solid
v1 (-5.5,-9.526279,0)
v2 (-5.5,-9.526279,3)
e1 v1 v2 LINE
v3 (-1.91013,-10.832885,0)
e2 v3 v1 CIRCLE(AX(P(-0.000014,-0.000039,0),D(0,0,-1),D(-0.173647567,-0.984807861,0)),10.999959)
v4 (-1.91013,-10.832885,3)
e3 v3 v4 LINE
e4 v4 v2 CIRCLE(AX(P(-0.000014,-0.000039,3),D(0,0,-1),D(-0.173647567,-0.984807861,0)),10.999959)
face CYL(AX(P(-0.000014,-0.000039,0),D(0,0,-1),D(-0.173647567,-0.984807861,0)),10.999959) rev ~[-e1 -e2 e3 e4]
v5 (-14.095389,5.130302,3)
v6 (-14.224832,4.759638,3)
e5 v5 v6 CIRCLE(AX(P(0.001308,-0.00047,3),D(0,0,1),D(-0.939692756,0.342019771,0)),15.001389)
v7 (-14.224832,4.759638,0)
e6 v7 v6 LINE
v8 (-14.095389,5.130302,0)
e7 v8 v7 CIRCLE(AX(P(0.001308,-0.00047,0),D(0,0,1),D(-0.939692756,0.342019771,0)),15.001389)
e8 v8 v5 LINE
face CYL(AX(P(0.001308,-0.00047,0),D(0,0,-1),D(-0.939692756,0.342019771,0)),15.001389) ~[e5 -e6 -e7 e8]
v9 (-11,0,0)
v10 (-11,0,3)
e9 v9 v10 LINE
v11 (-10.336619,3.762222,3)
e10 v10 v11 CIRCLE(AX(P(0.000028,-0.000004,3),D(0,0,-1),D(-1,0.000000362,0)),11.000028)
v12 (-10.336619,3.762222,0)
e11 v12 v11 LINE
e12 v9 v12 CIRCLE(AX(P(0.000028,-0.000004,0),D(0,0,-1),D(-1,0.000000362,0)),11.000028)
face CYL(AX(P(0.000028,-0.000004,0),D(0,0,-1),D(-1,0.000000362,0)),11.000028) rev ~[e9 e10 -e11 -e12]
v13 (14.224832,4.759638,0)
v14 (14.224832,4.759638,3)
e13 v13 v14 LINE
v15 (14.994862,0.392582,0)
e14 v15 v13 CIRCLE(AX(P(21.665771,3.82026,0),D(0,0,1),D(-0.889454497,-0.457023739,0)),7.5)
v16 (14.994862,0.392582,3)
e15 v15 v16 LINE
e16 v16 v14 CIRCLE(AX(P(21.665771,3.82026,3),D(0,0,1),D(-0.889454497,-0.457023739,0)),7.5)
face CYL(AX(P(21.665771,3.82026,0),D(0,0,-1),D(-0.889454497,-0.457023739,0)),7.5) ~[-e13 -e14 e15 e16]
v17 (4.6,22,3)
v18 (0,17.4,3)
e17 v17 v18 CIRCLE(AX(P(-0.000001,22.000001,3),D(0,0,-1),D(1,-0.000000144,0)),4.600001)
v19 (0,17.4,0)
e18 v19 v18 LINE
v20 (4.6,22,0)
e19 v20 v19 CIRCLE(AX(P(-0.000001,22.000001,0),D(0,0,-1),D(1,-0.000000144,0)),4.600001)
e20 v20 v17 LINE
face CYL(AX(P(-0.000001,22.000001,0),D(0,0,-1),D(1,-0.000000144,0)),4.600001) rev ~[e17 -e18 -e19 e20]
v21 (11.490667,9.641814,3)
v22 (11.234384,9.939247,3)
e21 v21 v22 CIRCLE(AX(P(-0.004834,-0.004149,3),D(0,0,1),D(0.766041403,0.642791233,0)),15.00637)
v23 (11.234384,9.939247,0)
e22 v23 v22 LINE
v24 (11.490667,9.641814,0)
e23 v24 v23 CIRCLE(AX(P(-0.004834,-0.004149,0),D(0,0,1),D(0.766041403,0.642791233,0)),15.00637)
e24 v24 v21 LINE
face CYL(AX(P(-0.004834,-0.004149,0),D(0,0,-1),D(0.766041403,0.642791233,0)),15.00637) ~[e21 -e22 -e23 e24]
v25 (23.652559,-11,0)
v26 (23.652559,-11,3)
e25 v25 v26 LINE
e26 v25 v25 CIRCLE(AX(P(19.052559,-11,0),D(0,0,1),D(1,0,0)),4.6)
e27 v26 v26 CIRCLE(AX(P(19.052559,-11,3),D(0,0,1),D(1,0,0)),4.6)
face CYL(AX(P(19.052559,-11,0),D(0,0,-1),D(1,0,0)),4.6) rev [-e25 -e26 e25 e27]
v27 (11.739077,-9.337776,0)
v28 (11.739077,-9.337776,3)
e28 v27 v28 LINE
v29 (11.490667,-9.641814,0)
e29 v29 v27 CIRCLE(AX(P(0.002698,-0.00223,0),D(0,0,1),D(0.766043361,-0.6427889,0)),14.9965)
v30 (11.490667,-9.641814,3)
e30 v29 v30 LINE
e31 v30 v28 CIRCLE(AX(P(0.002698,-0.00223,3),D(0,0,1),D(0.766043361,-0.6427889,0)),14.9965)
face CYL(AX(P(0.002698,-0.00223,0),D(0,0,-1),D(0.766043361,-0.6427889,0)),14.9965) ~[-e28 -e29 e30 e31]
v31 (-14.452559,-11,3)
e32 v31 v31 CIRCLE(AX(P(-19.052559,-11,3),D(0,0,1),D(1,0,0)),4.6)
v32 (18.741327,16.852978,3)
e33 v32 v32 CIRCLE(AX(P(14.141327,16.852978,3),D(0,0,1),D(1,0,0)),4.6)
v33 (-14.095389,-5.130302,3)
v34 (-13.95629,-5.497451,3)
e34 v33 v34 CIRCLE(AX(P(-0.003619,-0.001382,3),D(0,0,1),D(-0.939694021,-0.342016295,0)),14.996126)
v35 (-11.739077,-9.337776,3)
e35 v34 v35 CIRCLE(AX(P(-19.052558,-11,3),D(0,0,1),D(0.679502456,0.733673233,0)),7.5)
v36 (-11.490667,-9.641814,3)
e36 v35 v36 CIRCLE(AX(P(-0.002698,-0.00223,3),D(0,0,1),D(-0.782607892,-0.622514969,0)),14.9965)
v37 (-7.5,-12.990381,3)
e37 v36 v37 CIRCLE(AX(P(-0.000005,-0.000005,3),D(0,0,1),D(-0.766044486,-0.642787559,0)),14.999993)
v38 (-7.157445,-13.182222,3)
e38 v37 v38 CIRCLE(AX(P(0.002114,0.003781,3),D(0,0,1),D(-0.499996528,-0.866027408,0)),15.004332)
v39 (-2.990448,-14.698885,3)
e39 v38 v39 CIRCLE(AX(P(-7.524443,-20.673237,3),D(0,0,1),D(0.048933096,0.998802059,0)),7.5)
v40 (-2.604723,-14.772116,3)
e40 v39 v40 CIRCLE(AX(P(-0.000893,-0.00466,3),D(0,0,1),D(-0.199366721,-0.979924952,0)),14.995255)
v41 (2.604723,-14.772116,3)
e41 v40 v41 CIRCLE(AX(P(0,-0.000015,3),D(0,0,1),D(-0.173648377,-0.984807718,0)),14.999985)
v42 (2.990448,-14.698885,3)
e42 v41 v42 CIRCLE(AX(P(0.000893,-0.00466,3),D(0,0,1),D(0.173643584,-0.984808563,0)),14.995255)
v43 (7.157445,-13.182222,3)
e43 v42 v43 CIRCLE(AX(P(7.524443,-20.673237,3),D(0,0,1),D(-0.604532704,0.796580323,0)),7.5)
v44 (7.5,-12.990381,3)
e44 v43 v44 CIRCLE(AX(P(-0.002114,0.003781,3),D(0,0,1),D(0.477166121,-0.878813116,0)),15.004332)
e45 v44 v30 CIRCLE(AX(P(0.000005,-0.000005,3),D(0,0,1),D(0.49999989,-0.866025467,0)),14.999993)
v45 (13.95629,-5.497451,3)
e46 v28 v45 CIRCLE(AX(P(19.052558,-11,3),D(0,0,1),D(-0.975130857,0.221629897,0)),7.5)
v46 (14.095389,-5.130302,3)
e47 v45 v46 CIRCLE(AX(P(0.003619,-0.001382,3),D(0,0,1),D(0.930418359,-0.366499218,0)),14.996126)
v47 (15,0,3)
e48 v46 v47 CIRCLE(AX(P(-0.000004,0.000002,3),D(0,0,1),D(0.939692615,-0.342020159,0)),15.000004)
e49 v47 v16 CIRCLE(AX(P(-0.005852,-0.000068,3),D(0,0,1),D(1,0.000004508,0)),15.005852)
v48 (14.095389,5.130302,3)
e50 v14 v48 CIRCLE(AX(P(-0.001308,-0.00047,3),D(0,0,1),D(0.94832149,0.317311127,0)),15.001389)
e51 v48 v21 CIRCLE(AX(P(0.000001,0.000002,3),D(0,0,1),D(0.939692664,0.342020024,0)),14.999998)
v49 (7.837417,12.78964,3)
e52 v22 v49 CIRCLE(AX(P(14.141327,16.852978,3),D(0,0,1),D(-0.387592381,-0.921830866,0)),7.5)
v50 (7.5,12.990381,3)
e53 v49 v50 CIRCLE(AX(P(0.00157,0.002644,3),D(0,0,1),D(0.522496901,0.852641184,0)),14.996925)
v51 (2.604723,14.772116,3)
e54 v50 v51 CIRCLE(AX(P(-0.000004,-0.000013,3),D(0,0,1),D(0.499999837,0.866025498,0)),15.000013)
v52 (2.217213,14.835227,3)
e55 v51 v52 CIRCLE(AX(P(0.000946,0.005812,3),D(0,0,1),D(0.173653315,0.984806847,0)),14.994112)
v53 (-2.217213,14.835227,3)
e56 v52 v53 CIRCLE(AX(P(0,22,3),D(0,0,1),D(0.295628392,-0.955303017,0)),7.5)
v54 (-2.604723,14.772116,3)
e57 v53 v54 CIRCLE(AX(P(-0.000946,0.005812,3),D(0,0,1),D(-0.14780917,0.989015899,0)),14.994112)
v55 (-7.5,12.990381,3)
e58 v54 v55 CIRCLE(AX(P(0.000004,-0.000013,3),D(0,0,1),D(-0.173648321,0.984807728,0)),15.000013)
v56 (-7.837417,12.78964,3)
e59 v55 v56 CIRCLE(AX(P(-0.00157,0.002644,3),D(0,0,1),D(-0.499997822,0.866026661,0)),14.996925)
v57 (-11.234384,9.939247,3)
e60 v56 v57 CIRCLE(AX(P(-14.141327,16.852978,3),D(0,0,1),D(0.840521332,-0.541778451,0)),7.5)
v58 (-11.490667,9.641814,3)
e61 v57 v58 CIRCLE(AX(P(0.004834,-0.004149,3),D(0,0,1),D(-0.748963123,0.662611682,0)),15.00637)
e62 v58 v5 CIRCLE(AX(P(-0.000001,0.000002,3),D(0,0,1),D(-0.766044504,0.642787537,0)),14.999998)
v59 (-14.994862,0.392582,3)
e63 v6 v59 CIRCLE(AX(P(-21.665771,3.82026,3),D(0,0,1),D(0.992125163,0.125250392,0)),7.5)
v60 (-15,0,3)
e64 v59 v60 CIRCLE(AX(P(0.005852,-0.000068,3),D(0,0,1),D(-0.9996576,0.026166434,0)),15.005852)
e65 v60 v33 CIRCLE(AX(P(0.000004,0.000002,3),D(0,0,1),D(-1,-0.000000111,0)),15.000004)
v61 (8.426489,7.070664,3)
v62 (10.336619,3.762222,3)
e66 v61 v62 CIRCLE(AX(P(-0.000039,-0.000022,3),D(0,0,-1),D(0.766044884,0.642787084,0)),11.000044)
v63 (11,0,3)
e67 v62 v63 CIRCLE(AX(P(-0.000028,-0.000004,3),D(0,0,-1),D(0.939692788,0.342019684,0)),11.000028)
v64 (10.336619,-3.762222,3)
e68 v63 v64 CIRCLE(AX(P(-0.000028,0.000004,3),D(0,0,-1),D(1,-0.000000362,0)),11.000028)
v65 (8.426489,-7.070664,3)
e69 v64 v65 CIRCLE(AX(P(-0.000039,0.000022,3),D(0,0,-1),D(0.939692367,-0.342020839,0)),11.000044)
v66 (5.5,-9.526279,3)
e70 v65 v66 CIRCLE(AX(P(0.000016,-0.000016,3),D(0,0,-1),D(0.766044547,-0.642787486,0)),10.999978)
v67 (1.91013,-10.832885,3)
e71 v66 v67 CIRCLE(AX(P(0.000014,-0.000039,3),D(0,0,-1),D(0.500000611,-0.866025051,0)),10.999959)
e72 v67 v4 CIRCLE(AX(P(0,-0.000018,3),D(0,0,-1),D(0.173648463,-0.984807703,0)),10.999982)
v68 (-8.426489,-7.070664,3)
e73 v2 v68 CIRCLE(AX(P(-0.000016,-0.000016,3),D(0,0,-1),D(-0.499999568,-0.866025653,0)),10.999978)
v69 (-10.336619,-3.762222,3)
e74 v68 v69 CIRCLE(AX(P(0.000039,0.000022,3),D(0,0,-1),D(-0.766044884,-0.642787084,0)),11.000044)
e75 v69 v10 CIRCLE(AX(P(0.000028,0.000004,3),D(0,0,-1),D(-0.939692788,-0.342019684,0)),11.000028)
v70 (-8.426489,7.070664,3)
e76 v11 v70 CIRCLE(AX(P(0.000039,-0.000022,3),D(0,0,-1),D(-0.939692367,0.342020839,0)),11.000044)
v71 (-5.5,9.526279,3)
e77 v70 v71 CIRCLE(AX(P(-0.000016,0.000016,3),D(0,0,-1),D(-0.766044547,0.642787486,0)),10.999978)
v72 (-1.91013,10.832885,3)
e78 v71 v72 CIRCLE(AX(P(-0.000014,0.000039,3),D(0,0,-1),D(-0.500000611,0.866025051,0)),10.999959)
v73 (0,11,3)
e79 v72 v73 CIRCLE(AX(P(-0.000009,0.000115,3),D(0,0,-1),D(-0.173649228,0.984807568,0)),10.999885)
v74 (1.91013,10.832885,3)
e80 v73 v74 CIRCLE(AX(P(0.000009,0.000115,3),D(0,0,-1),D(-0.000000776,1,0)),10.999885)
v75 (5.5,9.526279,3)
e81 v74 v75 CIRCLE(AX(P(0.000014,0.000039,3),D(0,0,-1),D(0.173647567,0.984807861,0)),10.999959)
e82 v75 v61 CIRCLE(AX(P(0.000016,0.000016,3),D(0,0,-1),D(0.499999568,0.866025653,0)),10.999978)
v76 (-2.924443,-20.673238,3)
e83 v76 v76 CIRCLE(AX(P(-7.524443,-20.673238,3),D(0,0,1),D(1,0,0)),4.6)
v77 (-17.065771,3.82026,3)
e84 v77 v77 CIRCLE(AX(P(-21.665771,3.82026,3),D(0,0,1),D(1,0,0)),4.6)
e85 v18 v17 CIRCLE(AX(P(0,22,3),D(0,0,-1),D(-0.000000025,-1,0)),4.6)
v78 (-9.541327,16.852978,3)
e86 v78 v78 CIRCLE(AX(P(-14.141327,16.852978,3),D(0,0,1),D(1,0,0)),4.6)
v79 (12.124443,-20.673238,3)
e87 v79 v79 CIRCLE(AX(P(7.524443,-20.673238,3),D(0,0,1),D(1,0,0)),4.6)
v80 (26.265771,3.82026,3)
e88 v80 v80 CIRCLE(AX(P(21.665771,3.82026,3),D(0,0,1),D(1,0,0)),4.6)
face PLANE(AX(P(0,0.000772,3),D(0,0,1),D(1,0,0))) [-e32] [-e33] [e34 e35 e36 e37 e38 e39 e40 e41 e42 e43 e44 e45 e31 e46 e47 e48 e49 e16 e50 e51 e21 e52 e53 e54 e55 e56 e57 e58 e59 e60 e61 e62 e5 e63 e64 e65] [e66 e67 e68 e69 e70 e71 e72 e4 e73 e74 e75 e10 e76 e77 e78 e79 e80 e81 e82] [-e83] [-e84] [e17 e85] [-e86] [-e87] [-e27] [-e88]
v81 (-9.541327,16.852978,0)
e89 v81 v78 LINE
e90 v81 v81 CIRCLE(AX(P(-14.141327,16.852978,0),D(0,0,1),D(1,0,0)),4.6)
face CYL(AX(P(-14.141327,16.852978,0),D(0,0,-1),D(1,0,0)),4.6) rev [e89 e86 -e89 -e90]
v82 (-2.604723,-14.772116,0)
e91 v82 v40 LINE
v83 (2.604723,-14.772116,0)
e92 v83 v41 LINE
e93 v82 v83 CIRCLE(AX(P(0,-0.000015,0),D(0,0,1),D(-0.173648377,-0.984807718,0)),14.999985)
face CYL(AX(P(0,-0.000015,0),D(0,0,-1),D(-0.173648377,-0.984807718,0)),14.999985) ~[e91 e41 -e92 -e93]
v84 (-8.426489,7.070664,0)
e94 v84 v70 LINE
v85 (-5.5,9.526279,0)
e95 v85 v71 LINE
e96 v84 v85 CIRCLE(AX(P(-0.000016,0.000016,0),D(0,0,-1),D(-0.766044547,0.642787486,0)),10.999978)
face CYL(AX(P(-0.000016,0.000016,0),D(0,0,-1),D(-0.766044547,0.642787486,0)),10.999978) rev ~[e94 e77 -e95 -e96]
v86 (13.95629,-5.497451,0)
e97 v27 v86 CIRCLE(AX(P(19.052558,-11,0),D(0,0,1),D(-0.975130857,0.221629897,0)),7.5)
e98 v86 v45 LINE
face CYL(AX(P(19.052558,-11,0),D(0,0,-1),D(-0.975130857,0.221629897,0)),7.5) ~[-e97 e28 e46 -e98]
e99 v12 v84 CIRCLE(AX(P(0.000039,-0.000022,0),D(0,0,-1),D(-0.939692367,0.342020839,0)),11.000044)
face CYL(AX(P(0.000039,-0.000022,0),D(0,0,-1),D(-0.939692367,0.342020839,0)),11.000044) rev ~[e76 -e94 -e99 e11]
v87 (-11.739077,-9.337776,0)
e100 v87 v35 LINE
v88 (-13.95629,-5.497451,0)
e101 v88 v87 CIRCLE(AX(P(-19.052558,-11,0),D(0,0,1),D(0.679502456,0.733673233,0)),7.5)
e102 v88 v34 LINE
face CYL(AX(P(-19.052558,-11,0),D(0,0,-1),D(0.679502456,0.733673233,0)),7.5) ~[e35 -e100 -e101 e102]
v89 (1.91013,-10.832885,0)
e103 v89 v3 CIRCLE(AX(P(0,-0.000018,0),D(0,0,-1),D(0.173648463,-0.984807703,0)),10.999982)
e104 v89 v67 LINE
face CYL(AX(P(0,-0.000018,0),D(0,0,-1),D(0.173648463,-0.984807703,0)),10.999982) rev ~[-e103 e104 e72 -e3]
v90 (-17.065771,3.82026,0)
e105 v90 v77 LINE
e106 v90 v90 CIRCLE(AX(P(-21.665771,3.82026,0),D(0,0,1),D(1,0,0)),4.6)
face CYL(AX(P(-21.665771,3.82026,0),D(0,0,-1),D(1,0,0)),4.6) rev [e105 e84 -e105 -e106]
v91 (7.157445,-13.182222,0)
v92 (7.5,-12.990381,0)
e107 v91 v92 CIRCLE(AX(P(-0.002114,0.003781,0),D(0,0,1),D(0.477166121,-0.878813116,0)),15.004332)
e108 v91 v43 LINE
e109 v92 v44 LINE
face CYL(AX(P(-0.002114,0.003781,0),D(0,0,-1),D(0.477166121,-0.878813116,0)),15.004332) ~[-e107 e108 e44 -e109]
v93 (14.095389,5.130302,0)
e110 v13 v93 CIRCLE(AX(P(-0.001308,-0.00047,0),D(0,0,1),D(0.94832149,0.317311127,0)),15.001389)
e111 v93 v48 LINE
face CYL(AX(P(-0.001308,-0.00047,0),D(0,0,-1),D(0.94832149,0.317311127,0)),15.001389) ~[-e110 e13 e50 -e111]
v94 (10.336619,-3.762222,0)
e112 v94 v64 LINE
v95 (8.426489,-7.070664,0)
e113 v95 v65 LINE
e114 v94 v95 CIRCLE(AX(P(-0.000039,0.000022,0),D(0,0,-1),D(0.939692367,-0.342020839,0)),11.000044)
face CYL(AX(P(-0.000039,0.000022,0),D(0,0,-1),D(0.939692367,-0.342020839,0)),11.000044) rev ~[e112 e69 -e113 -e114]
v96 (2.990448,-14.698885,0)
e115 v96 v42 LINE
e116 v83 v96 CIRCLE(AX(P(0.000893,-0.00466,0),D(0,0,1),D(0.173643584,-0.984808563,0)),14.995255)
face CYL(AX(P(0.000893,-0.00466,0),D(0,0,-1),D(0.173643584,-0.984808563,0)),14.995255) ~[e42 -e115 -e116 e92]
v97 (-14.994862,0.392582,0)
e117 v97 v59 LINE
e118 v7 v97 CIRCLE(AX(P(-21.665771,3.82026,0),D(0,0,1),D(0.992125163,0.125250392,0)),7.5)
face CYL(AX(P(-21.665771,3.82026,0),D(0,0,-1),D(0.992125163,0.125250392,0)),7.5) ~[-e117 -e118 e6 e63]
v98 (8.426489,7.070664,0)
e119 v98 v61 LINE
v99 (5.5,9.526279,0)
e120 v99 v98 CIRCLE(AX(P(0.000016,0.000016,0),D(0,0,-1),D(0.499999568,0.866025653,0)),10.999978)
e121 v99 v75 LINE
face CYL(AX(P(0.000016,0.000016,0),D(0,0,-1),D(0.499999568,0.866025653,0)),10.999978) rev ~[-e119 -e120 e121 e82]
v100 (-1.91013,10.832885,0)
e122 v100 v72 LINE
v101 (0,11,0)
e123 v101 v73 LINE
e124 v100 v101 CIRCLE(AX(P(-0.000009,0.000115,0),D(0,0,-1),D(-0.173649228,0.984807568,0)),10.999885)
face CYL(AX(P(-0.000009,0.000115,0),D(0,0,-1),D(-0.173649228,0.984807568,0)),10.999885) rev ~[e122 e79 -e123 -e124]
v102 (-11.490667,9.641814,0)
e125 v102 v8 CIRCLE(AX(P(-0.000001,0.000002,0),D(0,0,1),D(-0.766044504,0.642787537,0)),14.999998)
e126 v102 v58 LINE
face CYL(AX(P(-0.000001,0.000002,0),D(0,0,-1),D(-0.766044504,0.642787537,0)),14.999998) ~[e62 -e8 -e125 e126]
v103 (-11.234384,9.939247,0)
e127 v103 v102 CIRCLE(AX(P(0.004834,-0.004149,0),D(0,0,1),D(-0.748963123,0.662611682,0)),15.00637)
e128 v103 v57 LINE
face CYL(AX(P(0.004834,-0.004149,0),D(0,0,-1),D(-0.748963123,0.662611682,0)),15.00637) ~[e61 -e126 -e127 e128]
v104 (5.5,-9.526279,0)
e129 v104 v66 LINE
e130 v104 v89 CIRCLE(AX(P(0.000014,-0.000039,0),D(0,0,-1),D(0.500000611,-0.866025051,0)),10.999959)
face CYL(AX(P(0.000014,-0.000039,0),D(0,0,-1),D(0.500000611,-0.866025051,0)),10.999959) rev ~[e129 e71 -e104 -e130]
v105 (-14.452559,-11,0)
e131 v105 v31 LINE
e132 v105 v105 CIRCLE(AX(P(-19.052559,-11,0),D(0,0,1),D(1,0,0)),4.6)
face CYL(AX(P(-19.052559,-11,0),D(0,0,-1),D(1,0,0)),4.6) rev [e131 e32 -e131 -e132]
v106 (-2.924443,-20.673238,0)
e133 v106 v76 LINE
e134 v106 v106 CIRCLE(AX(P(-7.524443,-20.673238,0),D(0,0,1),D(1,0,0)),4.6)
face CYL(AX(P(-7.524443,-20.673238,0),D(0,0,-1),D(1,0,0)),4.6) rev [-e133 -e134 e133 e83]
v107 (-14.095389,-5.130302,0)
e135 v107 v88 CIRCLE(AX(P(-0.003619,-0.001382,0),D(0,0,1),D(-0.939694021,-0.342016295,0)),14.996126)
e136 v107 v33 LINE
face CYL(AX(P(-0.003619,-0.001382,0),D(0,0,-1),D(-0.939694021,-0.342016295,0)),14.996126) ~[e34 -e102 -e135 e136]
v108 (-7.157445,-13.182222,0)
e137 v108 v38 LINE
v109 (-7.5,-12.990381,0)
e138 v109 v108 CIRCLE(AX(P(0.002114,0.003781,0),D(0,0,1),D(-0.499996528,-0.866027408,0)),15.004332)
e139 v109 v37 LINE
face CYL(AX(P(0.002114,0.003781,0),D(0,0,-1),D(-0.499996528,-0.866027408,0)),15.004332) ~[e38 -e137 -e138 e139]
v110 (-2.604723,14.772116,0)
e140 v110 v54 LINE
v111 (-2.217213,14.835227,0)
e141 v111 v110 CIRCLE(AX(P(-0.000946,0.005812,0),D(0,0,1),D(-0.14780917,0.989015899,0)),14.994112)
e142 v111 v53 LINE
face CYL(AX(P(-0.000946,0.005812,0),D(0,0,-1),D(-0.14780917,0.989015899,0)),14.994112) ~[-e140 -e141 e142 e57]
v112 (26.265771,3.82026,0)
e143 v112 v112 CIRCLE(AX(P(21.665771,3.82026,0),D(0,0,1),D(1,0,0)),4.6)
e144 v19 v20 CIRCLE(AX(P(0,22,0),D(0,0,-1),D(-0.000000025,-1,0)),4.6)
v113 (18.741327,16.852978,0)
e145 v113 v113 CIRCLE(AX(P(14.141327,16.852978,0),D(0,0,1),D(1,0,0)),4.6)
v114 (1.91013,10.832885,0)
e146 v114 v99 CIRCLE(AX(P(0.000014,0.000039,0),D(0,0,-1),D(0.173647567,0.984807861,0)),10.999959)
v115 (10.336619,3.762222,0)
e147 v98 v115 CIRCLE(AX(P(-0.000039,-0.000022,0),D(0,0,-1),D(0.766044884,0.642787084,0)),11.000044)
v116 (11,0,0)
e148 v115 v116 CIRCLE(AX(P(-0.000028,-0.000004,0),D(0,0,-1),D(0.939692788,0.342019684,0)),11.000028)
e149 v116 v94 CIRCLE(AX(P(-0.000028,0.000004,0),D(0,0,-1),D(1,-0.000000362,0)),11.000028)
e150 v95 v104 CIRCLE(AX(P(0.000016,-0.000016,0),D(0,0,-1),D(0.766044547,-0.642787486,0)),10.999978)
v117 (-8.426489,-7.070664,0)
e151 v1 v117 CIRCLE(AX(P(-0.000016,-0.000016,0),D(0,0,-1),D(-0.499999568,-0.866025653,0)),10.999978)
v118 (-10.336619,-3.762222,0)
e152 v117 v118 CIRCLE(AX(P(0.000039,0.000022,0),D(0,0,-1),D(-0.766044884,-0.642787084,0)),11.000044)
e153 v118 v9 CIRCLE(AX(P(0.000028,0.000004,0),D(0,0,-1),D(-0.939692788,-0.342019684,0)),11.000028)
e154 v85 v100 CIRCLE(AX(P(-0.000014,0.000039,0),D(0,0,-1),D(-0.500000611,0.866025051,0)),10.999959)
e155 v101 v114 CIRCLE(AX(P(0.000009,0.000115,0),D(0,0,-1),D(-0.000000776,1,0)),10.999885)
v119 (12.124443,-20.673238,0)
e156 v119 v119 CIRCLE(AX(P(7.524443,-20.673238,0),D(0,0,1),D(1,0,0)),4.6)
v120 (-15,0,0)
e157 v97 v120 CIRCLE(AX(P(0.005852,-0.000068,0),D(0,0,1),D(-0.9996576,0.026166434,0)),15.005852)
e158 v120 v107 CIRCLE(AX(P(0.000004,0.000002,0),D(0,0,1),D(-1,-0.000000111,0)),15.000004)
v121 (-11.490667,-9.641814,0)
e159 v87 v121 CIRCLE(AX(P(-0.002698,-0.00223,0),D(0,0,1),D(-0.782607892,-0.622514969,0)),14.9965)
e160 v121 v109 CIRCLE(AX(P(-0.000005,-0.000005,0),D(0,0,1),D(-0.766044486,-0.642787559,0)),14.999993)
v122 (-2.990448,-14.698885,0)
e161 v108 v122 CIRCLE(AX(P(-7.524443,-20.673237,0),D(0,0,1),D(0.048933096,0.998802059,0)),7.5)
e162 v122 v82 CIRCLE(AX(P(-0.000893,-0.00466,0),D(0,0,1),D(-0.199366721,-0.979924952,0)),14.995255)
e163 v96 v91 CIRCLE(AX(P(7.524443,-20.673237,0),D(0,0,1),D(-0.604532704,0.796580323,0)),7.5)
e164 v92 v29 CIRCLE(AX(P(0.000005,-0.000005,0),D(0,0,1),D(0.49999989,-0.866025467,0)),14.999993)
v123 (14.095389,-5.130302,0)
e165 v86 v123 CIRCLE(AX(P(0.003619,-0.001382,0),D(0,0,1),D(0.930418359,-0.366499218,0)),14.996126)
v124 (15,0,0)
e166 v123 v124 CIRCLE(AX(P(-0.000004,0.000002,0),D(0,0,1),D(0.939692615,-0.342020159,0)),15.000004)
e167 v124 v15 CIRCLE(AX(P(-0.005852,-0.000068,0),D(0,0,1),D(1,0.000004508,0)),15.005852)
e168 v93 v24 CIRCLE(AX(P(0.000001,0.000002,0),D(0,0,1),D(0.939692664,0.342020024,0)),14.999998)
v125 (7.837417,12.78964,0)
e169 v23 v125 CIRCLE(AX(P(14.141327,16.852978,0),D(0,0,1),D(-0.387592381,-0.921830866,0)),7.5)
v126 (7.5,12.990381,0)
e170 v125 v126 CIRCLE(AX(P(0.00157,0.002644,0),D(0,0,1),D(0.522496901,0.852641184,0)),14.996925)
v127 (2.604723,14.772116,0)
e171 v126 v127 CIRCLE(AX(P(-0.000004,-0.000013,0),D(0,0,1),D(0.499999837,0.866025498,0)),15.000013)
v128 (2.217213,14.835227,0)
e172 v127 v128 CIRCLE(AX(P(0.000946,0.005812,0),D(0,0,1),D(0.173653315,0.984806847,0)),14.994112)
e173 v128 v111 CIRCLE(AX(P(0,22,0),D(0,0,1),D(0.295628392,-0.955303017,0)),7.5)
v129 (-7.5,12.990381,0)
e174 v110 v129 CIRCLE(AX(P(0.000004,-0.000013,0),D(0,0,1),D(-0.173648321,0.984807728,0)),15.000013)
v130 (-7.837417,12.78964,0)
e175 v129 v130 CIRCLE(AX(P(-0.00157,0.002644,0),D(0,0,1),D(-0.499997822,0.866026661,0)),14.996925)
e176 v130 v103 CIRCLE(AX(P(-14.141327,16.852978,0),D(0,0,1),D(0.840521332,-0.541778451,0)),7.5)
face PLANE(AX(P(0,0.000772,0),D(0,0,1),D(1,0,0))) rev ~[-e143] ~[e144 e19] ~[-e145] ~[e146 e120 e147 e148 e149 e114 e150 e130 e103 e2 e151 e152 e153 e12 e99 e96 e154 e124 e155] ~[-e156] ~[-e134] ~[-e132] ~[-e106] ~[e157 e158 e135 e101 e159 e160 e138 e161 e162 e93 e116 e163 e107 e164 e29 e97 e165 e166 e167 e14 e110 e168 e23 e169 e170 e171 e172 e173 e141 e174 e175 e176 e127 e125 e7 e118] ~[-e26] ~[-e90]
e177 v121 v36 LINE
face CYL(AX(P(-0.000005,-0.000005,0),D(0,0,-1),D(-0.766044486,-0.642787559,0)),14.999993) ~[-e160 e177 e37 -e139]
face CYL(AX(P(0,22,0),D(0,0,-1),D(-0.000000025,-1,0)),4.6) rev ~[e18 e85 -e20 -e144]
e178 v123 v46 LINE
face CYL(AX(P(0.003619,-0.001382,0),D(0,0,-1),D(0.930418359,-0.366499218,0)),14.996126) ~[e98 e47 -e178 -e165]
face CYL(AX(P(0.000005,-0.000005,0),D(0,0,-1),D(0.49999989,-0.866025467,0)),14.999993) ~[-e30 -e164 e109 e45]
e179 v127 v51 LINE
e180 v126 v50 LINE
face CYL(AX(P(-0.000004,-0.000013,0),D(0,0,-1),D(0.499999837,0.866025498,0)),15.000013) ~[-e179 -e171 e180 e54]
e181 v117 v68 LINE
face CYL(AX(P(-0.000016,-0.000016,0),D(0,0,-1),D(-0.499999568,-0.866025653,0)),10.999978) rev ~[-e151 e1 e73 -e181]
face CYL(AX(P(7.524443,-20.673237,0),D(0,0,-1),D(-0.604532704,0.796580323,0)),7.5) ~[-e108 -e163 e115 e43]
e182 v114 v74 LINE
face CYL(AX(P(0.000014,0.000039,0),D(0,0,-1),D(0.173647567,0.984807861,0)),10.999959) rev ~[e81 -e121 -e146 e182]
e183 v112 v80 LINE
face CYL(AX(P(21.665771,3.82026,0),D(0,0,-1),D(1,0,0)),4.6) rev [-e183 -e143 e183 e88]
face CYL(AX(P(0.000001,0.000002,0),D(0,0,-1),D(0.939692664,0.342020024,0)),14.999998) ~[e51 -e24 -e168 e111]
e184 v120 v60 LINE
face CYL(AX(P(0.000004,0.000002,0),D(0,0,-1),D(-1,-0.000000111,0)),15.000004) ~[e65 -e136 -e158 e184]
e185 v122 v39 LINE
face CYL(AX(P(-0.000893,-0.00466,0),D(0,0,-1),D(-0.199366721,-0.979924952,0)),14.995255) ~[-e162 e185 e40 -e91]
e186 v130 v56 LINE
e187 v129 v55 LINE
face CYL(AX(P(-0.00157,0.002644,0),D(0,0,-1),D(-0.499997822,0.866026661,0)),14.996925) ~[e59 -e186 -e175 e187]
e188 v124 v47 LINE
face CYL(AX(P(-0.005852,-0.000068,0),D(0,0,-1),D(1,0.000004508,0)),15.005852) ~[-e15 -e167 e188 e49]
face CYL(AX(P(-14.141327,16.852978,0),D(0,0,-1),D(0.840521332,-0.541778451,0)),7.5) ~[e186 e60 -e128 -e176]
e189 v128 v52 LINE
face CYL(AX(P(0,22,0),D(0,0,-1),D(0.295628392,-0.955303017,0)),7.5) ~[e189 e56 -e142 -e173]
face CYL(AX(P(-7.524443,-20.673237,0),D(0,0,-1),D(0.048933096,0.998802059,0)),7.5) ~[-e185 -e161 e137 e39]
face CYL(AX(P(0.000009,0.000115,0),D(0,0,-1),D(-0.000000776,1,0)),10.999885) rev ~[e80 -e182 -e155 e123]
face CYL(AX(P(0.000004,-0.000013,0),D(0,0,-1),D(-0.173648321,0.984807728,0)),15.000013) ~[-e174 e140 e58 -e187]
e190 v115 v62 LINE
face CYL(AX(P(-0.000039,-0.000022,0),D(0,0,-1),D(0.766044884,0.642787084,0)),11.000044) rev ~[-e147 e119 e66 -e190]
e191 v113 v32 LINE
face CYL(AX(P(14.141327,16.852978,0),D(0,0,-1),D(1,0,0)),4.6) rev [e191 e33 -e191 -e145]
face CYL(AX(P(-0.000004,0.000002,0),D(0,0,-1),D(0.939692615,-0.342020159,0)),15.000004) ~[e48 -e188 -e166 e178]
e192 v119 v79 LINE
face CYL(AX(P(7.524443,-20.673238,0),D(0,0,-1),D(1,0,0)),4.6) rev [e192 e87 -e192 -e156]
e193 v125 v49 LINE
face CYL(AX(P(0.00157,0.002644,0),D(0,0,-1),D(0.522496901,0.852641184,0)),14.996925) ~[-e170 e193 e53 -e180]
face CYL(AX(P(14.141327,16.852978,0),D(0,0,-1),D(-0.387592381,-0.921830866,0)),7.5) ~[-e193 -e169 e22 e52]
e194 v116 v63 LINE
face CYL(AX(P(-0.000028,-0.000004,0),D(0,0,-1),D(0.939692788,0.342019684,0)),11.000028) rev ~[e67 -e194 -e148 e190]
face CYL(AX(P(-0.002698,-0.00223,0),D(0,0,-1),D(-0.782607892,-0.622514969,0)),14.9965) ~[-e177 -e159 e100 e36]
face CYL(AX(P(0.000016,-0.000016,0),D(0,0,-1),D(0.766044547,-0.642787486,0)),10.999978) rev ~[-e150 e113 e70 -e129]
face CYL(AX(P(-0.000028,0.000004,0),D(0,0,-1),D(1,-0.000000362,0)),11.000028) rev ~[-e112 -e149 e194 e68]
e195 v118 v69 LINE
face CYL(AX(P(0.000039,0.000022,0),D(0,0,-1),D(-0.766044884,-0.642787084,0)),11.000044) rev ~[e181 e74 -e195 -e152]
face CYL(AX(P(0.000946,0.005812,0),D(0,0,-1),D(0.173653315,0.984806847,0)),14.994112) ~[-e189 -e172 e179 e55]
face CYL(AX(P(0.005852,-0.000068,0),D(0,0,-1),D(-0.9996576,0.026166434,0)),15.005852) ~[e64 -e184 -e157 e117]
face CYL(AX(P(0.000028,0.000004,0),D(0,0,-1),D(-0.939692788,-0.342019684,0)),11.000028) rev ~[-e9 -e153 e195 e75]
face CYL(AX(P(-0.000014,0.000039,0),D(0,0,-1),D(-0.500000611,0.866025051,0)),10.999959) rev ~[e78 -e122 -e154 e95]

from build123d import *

# Parameters (mm, degrees)
F0_R     = 4.6
F1_DEPTH = 3


with BuildPart() as f1:
    # F0 (on Top) → F1 (new body)
    with BuildSketch(Plane.XY):
        with BuildLine():
            ThreePointArc((8.426489, 7.070664), (7.070664, 8.426489), (5.5, 9.526279))
            ThreePointArc((5.5, 9.526279), (3.762222, 10.336619), (1.91013, 10.832885))
            ThreePointArc((1.91013, 10.832885), (0.958713, 10.958142), (0, 11))
            ThreePointArc((0, 11), (-0.958713, 10.958142), (-1.91013, 10.832885))
            ThreePointArc((-1.91013, 10.832885), (-3.762222, 10.336619), (-5.5, 9.526279))
            ThreePointArc((-5.5, 9.526279), (-7.070664, 8.426489), (-8.426489, 7.070664))
            ThreePointArc((-8.426489, 7.070664), (-9.526279, 5.5), (-10.336619, 3.762222))
            ThreePointArc((-10.336619, 3.762222), (-10.832885, 1.91013), (-11, 0))
            ThreePointArc((-11, 0), (-10.832885, -1.91013), (-10.336619, -3.762222))
            ThreePointArc((-10.336619, -3.762222), (-9.526279, -5.5), (-8.426489, -7.070664))
            ThreePointArc((-8.426489, -7.070664), (-7.070664, -8.426489), (-5.5, -9.526279))
            ThreePointArc((-5.5, -9.526279), (-3.762222, -10.336619), (-1.91013, -10.832885))
            ThreePointArc((-1.91013, -10.832885), (0, -11), (1.91013, -10.832885))
            ThreePointArc((1.91013, -10.832885), (3.762222, -10.336619), (5.5, -9.526279))
            ThreePointArc((5.5, -9.526279), (7.070664, -8.426489), (8.426489, -7.070664))
            ThreePointArc((8.426489, -7.070664), (9.526279, -5.5), (10.336619, -3.762222))
            ThreePointArc((10.336619, -3.762222), (10.832885, -1.91013), (11, 0))
            ThreePointArc((11, 0), (10.832885, 1.91013), (10.336619, 3.762222))
            ThreePointArc((10.336619, 3.762222), (9.526279, 5.5), (8.426489, 7.070664))
        make_face()
        with BuildLine():
            ThreePointArc((4.6, 22), (-3.252691, 25.252691), (0, 17.4))
            ThreePointArc((0, 17.4), (3.252691, 18.747309), (4.6, 22))
        make_face()
        with BuildLine():
            ThreePointArc((2.217213, 14.835227), (0, 29.5), (-2.217213, 14.835227))
            ThreePointArc((-2.217213, 14.835227), (-2.411174, 14.80494), (-2.604723, 14.772116))
            ThreePointArc((-2.604723, 14.772116), (-5.130302, 14.095389), (-7.5, 12.990381))
            ThreePointArc((-7.5, 12.990381), (-7.669365, 12.891115), (-7.837417, 12.78964))
            ThreePointArc((-7.837417, 12.78964), (-18.962234, 22.598311), (-11.234384, 9.939247))
            ThreePointArc((-11.234384, 9.939247), (-11.363498, 9.791369), (-11.490667, 9.641814))
            ThreePointArc((-11.490667, 9.641814), (-12.990381, 7.5), (-14.095389, 5.130302))
            ThreePointArc((-14.095389, 5.130302), (-14.161323, 4.945394), (-14.224832, 4.759638))
            ThreePointArc((-14.224832, 4.759638), (-29.051829, 5.122621), (-14.994862, 0.392582))
            ThreePointArc((-14.994862, 0.392582), (-14.998715, 0.196308), (-15, 0))
            ThreePointArc((-15, 0), (-14.772116, -2.604723), (-14.095389, -5.130302))
            ThreePointArc((-14.095389, -5.130302), (-14.027041, -5.314332), (-13.95629, -5.497451))
            ThreePointArc((-13.95629, -5.497451), (-25.547749, -14.75), (-11.739077, -9.337776))
            ThreePointArc((-11.739077, -9.337776), (-11.615867, -9.490608), (-11.490667, -9.641814))
            ThreePointArc((-11.490667, -9.641814), (-9.641814, -11.490667), (-7.5, -12.990381))
            ThreePointArc((-7.5, -12.990381), (-7.32935, -13.087422), (-7.157445, -13.182222))
            ThreePointArc((-7.157445, -13.182222), (-10.089594, -27.720932), (-2.990448, -14.698885))
            ThreePointArc((-2.990448, -14.698885), (-2.797825, -14.736763), (-2.604723, -14.772116))
            ThreePointArc((-2.604723, -14.772116), (0, -15), (2.604723, -14.772116))
            ThreePointArc((2.604723, -14.772116), (2.797825, -14.736763), (2.990448, -14.698885))
            ThreePointArc((2.990448, -14.698885), (10.089594, -27.720932), (7.157445, -13.182222))
            ThreePointArc((7.157445, -13.182222), (7.32935, -13.087422), (7.5, -12.990381))
            ThreePointArc((7.5, -12.990381), (9.641814, -11.490667), (11.490667, -9.641814))
            ThreePointArc((11.490667, -9.641814), (11.615867, -9.490608), (11.739077, -9.337776))
            ThreePointArc((11.739077, -9.337776), (25.547749, -14.75), (13.95629, -5.497451))
            ThreePointArc((13.95629, -5.497451), (14.027041, -5.314332), (14.095389, -5.130302))
            ThreePointArc((14.095389, -5.130302), (14.772116, -2.604723), (15, 0))
            ThreePointArc((15, 0), (14.998715, 0.196308), (14.994862, 0.392582))
            ThreePointArc((14.994862, 0.392582), (29.051829, 5.122621), (14.224832, 4.759638))
            ThreePointArc((14.224832, 4.759638), (14.161323, 4.945394), (14.095389, 5.130302))
            ThreePointArc((14.095389, 5.130302), (12.990381, 7.5), (11.490667, 9.641814))
            ThreePointArc((11.490667, 9.641814), (11.363498, 9.791369), (11.234384, 9.939247))
            ThreePointArc((11.234384, 9.939247), (18.962234, 22.598311), (7.837417, 12.78964))
            ThreePointArc((7.837417, 12.78964), (7.669365, 12.891115), (7.5, 12.990381))
            ThreePointArc((7.5, 12.990381), (5.130302, 14.095389), (2.604723, 14.772116))
            ThreePointArc((2.604723, 14.772116), (2.411174, 14.80494), (2.217213, 14.835227))
        make_face()
        with Locations((-7.524443, -20.673238)):
            Circle(F0_R, mode=Mode.SUBTRACT)
        with Locations((-19.052559, -11)):
            Circle(F0_R, mode=Mode.SUBTRACT)
        with Locations((7.524443, -20.673238)):
            Circle(F0_R, mode=Mode.SUBTRACT)
        with BuildLine():
            ThreePointArc((1.91013, 10.832885), (3.762222, 10.336619), (5.5, 9.526279))
            ThreePointArc((5.5, 9.526279), (7.070664, 8.426489), (8.426489, 7.070664))
            ThreePointArc((8.426489, 7.070664), (9.526279, 5.5), (10.336619, 3.762222))
            ThreePointArc((10.336619, 3.762222), (10.832885, 1.91013), (11, 0))
            ThreePointArc((11, 0), (10.832885, -1.91013), (10.336619, -3.762222))
            ThreePointArc((10.336619, -3.762222), (9.526279, -5.5), (8.426489, -7.070664))
            ThreePointArc((8.426489, -7.070664), (7.070664, -8.426489), (5.5, -9.526279))
            ThreePointArc((5.5, -9.526279), (3.762222, -10.336619), (1.91013, -10.832885))
            ThreePointArc((1.91013, -10.832885), (0, -11), (-1.91013, -10.832885))
            ThreePointArc((-1.91013, -10.832885), (-3.762222, -10.336619), (-5.5, -9.526279))
            ThreePointArc((-5.5, -9.526279), (-7.070664, -8.426489), (-8.426489, -7.070664))
            ThreePointArc((-8.426489, -7.070664), (-9.526279, -5.5), (-10.336619, -3.762222))
            ThreePointArc((-10.336619, -3.762222), (-10.832885, -1.91013), (-11, 0))
            ThreePointArc((-11, 0), (-10.832885, 1.91013), (-10.336619, 3.762222))
            ThreePointArc((-10.336619, 3.762222), (-9.526279, 5.5), (-8.426489, 7.070664))
            ThreePointArc((-8.426489, 7.070664), (-7.070664, 8.426489), (-5.5, 9.526279))
            ThreePointArc((-5.5, 9.526279), (-3.762222, 10.336619), (-1.91013, 10.832885))
            ThreePointArc((-1.91013, 10.832885), (-0.958713, 10.958142), (0, 11))
            ThreePointArc((0, 11), (0.958713, 10.958142), (1.91013, 10.832885))
        make_face(mode=Mode.SUBTRACT)
        with Locations((19.052559, -11)):
            Circle(F0_R, mode=Mode.SUBTRACT)
        with Locations((-21.665771, 3.82026)):
            Circle(F0_R, mode=Mode.SUBTRACT)
        with Locations((-14.141327, 16.852978)):
            Circle(F0_R, mode=Mode.SUBTRACT)
        with Locations((21.665771, 3.82026)):
            Circle(F0_R, mode=Mode.SUBTRACT)
        with BuildLine():
            ThreePointArc((4.6, 22), (3.252691, 18.747309), (0, 17.4))
            ThreePointArc((0, 17.4), (-3.252691, 25.252691), (4.6, 22))
        make_face(mode=Mode.SUBTRACT)
        with Locations((14.141327, 16.852978)):
            Circle(F0_R, mode=Mode.SUBTRACT)
    extrude(amount=F1_DEPTH)


solid = f1.part
